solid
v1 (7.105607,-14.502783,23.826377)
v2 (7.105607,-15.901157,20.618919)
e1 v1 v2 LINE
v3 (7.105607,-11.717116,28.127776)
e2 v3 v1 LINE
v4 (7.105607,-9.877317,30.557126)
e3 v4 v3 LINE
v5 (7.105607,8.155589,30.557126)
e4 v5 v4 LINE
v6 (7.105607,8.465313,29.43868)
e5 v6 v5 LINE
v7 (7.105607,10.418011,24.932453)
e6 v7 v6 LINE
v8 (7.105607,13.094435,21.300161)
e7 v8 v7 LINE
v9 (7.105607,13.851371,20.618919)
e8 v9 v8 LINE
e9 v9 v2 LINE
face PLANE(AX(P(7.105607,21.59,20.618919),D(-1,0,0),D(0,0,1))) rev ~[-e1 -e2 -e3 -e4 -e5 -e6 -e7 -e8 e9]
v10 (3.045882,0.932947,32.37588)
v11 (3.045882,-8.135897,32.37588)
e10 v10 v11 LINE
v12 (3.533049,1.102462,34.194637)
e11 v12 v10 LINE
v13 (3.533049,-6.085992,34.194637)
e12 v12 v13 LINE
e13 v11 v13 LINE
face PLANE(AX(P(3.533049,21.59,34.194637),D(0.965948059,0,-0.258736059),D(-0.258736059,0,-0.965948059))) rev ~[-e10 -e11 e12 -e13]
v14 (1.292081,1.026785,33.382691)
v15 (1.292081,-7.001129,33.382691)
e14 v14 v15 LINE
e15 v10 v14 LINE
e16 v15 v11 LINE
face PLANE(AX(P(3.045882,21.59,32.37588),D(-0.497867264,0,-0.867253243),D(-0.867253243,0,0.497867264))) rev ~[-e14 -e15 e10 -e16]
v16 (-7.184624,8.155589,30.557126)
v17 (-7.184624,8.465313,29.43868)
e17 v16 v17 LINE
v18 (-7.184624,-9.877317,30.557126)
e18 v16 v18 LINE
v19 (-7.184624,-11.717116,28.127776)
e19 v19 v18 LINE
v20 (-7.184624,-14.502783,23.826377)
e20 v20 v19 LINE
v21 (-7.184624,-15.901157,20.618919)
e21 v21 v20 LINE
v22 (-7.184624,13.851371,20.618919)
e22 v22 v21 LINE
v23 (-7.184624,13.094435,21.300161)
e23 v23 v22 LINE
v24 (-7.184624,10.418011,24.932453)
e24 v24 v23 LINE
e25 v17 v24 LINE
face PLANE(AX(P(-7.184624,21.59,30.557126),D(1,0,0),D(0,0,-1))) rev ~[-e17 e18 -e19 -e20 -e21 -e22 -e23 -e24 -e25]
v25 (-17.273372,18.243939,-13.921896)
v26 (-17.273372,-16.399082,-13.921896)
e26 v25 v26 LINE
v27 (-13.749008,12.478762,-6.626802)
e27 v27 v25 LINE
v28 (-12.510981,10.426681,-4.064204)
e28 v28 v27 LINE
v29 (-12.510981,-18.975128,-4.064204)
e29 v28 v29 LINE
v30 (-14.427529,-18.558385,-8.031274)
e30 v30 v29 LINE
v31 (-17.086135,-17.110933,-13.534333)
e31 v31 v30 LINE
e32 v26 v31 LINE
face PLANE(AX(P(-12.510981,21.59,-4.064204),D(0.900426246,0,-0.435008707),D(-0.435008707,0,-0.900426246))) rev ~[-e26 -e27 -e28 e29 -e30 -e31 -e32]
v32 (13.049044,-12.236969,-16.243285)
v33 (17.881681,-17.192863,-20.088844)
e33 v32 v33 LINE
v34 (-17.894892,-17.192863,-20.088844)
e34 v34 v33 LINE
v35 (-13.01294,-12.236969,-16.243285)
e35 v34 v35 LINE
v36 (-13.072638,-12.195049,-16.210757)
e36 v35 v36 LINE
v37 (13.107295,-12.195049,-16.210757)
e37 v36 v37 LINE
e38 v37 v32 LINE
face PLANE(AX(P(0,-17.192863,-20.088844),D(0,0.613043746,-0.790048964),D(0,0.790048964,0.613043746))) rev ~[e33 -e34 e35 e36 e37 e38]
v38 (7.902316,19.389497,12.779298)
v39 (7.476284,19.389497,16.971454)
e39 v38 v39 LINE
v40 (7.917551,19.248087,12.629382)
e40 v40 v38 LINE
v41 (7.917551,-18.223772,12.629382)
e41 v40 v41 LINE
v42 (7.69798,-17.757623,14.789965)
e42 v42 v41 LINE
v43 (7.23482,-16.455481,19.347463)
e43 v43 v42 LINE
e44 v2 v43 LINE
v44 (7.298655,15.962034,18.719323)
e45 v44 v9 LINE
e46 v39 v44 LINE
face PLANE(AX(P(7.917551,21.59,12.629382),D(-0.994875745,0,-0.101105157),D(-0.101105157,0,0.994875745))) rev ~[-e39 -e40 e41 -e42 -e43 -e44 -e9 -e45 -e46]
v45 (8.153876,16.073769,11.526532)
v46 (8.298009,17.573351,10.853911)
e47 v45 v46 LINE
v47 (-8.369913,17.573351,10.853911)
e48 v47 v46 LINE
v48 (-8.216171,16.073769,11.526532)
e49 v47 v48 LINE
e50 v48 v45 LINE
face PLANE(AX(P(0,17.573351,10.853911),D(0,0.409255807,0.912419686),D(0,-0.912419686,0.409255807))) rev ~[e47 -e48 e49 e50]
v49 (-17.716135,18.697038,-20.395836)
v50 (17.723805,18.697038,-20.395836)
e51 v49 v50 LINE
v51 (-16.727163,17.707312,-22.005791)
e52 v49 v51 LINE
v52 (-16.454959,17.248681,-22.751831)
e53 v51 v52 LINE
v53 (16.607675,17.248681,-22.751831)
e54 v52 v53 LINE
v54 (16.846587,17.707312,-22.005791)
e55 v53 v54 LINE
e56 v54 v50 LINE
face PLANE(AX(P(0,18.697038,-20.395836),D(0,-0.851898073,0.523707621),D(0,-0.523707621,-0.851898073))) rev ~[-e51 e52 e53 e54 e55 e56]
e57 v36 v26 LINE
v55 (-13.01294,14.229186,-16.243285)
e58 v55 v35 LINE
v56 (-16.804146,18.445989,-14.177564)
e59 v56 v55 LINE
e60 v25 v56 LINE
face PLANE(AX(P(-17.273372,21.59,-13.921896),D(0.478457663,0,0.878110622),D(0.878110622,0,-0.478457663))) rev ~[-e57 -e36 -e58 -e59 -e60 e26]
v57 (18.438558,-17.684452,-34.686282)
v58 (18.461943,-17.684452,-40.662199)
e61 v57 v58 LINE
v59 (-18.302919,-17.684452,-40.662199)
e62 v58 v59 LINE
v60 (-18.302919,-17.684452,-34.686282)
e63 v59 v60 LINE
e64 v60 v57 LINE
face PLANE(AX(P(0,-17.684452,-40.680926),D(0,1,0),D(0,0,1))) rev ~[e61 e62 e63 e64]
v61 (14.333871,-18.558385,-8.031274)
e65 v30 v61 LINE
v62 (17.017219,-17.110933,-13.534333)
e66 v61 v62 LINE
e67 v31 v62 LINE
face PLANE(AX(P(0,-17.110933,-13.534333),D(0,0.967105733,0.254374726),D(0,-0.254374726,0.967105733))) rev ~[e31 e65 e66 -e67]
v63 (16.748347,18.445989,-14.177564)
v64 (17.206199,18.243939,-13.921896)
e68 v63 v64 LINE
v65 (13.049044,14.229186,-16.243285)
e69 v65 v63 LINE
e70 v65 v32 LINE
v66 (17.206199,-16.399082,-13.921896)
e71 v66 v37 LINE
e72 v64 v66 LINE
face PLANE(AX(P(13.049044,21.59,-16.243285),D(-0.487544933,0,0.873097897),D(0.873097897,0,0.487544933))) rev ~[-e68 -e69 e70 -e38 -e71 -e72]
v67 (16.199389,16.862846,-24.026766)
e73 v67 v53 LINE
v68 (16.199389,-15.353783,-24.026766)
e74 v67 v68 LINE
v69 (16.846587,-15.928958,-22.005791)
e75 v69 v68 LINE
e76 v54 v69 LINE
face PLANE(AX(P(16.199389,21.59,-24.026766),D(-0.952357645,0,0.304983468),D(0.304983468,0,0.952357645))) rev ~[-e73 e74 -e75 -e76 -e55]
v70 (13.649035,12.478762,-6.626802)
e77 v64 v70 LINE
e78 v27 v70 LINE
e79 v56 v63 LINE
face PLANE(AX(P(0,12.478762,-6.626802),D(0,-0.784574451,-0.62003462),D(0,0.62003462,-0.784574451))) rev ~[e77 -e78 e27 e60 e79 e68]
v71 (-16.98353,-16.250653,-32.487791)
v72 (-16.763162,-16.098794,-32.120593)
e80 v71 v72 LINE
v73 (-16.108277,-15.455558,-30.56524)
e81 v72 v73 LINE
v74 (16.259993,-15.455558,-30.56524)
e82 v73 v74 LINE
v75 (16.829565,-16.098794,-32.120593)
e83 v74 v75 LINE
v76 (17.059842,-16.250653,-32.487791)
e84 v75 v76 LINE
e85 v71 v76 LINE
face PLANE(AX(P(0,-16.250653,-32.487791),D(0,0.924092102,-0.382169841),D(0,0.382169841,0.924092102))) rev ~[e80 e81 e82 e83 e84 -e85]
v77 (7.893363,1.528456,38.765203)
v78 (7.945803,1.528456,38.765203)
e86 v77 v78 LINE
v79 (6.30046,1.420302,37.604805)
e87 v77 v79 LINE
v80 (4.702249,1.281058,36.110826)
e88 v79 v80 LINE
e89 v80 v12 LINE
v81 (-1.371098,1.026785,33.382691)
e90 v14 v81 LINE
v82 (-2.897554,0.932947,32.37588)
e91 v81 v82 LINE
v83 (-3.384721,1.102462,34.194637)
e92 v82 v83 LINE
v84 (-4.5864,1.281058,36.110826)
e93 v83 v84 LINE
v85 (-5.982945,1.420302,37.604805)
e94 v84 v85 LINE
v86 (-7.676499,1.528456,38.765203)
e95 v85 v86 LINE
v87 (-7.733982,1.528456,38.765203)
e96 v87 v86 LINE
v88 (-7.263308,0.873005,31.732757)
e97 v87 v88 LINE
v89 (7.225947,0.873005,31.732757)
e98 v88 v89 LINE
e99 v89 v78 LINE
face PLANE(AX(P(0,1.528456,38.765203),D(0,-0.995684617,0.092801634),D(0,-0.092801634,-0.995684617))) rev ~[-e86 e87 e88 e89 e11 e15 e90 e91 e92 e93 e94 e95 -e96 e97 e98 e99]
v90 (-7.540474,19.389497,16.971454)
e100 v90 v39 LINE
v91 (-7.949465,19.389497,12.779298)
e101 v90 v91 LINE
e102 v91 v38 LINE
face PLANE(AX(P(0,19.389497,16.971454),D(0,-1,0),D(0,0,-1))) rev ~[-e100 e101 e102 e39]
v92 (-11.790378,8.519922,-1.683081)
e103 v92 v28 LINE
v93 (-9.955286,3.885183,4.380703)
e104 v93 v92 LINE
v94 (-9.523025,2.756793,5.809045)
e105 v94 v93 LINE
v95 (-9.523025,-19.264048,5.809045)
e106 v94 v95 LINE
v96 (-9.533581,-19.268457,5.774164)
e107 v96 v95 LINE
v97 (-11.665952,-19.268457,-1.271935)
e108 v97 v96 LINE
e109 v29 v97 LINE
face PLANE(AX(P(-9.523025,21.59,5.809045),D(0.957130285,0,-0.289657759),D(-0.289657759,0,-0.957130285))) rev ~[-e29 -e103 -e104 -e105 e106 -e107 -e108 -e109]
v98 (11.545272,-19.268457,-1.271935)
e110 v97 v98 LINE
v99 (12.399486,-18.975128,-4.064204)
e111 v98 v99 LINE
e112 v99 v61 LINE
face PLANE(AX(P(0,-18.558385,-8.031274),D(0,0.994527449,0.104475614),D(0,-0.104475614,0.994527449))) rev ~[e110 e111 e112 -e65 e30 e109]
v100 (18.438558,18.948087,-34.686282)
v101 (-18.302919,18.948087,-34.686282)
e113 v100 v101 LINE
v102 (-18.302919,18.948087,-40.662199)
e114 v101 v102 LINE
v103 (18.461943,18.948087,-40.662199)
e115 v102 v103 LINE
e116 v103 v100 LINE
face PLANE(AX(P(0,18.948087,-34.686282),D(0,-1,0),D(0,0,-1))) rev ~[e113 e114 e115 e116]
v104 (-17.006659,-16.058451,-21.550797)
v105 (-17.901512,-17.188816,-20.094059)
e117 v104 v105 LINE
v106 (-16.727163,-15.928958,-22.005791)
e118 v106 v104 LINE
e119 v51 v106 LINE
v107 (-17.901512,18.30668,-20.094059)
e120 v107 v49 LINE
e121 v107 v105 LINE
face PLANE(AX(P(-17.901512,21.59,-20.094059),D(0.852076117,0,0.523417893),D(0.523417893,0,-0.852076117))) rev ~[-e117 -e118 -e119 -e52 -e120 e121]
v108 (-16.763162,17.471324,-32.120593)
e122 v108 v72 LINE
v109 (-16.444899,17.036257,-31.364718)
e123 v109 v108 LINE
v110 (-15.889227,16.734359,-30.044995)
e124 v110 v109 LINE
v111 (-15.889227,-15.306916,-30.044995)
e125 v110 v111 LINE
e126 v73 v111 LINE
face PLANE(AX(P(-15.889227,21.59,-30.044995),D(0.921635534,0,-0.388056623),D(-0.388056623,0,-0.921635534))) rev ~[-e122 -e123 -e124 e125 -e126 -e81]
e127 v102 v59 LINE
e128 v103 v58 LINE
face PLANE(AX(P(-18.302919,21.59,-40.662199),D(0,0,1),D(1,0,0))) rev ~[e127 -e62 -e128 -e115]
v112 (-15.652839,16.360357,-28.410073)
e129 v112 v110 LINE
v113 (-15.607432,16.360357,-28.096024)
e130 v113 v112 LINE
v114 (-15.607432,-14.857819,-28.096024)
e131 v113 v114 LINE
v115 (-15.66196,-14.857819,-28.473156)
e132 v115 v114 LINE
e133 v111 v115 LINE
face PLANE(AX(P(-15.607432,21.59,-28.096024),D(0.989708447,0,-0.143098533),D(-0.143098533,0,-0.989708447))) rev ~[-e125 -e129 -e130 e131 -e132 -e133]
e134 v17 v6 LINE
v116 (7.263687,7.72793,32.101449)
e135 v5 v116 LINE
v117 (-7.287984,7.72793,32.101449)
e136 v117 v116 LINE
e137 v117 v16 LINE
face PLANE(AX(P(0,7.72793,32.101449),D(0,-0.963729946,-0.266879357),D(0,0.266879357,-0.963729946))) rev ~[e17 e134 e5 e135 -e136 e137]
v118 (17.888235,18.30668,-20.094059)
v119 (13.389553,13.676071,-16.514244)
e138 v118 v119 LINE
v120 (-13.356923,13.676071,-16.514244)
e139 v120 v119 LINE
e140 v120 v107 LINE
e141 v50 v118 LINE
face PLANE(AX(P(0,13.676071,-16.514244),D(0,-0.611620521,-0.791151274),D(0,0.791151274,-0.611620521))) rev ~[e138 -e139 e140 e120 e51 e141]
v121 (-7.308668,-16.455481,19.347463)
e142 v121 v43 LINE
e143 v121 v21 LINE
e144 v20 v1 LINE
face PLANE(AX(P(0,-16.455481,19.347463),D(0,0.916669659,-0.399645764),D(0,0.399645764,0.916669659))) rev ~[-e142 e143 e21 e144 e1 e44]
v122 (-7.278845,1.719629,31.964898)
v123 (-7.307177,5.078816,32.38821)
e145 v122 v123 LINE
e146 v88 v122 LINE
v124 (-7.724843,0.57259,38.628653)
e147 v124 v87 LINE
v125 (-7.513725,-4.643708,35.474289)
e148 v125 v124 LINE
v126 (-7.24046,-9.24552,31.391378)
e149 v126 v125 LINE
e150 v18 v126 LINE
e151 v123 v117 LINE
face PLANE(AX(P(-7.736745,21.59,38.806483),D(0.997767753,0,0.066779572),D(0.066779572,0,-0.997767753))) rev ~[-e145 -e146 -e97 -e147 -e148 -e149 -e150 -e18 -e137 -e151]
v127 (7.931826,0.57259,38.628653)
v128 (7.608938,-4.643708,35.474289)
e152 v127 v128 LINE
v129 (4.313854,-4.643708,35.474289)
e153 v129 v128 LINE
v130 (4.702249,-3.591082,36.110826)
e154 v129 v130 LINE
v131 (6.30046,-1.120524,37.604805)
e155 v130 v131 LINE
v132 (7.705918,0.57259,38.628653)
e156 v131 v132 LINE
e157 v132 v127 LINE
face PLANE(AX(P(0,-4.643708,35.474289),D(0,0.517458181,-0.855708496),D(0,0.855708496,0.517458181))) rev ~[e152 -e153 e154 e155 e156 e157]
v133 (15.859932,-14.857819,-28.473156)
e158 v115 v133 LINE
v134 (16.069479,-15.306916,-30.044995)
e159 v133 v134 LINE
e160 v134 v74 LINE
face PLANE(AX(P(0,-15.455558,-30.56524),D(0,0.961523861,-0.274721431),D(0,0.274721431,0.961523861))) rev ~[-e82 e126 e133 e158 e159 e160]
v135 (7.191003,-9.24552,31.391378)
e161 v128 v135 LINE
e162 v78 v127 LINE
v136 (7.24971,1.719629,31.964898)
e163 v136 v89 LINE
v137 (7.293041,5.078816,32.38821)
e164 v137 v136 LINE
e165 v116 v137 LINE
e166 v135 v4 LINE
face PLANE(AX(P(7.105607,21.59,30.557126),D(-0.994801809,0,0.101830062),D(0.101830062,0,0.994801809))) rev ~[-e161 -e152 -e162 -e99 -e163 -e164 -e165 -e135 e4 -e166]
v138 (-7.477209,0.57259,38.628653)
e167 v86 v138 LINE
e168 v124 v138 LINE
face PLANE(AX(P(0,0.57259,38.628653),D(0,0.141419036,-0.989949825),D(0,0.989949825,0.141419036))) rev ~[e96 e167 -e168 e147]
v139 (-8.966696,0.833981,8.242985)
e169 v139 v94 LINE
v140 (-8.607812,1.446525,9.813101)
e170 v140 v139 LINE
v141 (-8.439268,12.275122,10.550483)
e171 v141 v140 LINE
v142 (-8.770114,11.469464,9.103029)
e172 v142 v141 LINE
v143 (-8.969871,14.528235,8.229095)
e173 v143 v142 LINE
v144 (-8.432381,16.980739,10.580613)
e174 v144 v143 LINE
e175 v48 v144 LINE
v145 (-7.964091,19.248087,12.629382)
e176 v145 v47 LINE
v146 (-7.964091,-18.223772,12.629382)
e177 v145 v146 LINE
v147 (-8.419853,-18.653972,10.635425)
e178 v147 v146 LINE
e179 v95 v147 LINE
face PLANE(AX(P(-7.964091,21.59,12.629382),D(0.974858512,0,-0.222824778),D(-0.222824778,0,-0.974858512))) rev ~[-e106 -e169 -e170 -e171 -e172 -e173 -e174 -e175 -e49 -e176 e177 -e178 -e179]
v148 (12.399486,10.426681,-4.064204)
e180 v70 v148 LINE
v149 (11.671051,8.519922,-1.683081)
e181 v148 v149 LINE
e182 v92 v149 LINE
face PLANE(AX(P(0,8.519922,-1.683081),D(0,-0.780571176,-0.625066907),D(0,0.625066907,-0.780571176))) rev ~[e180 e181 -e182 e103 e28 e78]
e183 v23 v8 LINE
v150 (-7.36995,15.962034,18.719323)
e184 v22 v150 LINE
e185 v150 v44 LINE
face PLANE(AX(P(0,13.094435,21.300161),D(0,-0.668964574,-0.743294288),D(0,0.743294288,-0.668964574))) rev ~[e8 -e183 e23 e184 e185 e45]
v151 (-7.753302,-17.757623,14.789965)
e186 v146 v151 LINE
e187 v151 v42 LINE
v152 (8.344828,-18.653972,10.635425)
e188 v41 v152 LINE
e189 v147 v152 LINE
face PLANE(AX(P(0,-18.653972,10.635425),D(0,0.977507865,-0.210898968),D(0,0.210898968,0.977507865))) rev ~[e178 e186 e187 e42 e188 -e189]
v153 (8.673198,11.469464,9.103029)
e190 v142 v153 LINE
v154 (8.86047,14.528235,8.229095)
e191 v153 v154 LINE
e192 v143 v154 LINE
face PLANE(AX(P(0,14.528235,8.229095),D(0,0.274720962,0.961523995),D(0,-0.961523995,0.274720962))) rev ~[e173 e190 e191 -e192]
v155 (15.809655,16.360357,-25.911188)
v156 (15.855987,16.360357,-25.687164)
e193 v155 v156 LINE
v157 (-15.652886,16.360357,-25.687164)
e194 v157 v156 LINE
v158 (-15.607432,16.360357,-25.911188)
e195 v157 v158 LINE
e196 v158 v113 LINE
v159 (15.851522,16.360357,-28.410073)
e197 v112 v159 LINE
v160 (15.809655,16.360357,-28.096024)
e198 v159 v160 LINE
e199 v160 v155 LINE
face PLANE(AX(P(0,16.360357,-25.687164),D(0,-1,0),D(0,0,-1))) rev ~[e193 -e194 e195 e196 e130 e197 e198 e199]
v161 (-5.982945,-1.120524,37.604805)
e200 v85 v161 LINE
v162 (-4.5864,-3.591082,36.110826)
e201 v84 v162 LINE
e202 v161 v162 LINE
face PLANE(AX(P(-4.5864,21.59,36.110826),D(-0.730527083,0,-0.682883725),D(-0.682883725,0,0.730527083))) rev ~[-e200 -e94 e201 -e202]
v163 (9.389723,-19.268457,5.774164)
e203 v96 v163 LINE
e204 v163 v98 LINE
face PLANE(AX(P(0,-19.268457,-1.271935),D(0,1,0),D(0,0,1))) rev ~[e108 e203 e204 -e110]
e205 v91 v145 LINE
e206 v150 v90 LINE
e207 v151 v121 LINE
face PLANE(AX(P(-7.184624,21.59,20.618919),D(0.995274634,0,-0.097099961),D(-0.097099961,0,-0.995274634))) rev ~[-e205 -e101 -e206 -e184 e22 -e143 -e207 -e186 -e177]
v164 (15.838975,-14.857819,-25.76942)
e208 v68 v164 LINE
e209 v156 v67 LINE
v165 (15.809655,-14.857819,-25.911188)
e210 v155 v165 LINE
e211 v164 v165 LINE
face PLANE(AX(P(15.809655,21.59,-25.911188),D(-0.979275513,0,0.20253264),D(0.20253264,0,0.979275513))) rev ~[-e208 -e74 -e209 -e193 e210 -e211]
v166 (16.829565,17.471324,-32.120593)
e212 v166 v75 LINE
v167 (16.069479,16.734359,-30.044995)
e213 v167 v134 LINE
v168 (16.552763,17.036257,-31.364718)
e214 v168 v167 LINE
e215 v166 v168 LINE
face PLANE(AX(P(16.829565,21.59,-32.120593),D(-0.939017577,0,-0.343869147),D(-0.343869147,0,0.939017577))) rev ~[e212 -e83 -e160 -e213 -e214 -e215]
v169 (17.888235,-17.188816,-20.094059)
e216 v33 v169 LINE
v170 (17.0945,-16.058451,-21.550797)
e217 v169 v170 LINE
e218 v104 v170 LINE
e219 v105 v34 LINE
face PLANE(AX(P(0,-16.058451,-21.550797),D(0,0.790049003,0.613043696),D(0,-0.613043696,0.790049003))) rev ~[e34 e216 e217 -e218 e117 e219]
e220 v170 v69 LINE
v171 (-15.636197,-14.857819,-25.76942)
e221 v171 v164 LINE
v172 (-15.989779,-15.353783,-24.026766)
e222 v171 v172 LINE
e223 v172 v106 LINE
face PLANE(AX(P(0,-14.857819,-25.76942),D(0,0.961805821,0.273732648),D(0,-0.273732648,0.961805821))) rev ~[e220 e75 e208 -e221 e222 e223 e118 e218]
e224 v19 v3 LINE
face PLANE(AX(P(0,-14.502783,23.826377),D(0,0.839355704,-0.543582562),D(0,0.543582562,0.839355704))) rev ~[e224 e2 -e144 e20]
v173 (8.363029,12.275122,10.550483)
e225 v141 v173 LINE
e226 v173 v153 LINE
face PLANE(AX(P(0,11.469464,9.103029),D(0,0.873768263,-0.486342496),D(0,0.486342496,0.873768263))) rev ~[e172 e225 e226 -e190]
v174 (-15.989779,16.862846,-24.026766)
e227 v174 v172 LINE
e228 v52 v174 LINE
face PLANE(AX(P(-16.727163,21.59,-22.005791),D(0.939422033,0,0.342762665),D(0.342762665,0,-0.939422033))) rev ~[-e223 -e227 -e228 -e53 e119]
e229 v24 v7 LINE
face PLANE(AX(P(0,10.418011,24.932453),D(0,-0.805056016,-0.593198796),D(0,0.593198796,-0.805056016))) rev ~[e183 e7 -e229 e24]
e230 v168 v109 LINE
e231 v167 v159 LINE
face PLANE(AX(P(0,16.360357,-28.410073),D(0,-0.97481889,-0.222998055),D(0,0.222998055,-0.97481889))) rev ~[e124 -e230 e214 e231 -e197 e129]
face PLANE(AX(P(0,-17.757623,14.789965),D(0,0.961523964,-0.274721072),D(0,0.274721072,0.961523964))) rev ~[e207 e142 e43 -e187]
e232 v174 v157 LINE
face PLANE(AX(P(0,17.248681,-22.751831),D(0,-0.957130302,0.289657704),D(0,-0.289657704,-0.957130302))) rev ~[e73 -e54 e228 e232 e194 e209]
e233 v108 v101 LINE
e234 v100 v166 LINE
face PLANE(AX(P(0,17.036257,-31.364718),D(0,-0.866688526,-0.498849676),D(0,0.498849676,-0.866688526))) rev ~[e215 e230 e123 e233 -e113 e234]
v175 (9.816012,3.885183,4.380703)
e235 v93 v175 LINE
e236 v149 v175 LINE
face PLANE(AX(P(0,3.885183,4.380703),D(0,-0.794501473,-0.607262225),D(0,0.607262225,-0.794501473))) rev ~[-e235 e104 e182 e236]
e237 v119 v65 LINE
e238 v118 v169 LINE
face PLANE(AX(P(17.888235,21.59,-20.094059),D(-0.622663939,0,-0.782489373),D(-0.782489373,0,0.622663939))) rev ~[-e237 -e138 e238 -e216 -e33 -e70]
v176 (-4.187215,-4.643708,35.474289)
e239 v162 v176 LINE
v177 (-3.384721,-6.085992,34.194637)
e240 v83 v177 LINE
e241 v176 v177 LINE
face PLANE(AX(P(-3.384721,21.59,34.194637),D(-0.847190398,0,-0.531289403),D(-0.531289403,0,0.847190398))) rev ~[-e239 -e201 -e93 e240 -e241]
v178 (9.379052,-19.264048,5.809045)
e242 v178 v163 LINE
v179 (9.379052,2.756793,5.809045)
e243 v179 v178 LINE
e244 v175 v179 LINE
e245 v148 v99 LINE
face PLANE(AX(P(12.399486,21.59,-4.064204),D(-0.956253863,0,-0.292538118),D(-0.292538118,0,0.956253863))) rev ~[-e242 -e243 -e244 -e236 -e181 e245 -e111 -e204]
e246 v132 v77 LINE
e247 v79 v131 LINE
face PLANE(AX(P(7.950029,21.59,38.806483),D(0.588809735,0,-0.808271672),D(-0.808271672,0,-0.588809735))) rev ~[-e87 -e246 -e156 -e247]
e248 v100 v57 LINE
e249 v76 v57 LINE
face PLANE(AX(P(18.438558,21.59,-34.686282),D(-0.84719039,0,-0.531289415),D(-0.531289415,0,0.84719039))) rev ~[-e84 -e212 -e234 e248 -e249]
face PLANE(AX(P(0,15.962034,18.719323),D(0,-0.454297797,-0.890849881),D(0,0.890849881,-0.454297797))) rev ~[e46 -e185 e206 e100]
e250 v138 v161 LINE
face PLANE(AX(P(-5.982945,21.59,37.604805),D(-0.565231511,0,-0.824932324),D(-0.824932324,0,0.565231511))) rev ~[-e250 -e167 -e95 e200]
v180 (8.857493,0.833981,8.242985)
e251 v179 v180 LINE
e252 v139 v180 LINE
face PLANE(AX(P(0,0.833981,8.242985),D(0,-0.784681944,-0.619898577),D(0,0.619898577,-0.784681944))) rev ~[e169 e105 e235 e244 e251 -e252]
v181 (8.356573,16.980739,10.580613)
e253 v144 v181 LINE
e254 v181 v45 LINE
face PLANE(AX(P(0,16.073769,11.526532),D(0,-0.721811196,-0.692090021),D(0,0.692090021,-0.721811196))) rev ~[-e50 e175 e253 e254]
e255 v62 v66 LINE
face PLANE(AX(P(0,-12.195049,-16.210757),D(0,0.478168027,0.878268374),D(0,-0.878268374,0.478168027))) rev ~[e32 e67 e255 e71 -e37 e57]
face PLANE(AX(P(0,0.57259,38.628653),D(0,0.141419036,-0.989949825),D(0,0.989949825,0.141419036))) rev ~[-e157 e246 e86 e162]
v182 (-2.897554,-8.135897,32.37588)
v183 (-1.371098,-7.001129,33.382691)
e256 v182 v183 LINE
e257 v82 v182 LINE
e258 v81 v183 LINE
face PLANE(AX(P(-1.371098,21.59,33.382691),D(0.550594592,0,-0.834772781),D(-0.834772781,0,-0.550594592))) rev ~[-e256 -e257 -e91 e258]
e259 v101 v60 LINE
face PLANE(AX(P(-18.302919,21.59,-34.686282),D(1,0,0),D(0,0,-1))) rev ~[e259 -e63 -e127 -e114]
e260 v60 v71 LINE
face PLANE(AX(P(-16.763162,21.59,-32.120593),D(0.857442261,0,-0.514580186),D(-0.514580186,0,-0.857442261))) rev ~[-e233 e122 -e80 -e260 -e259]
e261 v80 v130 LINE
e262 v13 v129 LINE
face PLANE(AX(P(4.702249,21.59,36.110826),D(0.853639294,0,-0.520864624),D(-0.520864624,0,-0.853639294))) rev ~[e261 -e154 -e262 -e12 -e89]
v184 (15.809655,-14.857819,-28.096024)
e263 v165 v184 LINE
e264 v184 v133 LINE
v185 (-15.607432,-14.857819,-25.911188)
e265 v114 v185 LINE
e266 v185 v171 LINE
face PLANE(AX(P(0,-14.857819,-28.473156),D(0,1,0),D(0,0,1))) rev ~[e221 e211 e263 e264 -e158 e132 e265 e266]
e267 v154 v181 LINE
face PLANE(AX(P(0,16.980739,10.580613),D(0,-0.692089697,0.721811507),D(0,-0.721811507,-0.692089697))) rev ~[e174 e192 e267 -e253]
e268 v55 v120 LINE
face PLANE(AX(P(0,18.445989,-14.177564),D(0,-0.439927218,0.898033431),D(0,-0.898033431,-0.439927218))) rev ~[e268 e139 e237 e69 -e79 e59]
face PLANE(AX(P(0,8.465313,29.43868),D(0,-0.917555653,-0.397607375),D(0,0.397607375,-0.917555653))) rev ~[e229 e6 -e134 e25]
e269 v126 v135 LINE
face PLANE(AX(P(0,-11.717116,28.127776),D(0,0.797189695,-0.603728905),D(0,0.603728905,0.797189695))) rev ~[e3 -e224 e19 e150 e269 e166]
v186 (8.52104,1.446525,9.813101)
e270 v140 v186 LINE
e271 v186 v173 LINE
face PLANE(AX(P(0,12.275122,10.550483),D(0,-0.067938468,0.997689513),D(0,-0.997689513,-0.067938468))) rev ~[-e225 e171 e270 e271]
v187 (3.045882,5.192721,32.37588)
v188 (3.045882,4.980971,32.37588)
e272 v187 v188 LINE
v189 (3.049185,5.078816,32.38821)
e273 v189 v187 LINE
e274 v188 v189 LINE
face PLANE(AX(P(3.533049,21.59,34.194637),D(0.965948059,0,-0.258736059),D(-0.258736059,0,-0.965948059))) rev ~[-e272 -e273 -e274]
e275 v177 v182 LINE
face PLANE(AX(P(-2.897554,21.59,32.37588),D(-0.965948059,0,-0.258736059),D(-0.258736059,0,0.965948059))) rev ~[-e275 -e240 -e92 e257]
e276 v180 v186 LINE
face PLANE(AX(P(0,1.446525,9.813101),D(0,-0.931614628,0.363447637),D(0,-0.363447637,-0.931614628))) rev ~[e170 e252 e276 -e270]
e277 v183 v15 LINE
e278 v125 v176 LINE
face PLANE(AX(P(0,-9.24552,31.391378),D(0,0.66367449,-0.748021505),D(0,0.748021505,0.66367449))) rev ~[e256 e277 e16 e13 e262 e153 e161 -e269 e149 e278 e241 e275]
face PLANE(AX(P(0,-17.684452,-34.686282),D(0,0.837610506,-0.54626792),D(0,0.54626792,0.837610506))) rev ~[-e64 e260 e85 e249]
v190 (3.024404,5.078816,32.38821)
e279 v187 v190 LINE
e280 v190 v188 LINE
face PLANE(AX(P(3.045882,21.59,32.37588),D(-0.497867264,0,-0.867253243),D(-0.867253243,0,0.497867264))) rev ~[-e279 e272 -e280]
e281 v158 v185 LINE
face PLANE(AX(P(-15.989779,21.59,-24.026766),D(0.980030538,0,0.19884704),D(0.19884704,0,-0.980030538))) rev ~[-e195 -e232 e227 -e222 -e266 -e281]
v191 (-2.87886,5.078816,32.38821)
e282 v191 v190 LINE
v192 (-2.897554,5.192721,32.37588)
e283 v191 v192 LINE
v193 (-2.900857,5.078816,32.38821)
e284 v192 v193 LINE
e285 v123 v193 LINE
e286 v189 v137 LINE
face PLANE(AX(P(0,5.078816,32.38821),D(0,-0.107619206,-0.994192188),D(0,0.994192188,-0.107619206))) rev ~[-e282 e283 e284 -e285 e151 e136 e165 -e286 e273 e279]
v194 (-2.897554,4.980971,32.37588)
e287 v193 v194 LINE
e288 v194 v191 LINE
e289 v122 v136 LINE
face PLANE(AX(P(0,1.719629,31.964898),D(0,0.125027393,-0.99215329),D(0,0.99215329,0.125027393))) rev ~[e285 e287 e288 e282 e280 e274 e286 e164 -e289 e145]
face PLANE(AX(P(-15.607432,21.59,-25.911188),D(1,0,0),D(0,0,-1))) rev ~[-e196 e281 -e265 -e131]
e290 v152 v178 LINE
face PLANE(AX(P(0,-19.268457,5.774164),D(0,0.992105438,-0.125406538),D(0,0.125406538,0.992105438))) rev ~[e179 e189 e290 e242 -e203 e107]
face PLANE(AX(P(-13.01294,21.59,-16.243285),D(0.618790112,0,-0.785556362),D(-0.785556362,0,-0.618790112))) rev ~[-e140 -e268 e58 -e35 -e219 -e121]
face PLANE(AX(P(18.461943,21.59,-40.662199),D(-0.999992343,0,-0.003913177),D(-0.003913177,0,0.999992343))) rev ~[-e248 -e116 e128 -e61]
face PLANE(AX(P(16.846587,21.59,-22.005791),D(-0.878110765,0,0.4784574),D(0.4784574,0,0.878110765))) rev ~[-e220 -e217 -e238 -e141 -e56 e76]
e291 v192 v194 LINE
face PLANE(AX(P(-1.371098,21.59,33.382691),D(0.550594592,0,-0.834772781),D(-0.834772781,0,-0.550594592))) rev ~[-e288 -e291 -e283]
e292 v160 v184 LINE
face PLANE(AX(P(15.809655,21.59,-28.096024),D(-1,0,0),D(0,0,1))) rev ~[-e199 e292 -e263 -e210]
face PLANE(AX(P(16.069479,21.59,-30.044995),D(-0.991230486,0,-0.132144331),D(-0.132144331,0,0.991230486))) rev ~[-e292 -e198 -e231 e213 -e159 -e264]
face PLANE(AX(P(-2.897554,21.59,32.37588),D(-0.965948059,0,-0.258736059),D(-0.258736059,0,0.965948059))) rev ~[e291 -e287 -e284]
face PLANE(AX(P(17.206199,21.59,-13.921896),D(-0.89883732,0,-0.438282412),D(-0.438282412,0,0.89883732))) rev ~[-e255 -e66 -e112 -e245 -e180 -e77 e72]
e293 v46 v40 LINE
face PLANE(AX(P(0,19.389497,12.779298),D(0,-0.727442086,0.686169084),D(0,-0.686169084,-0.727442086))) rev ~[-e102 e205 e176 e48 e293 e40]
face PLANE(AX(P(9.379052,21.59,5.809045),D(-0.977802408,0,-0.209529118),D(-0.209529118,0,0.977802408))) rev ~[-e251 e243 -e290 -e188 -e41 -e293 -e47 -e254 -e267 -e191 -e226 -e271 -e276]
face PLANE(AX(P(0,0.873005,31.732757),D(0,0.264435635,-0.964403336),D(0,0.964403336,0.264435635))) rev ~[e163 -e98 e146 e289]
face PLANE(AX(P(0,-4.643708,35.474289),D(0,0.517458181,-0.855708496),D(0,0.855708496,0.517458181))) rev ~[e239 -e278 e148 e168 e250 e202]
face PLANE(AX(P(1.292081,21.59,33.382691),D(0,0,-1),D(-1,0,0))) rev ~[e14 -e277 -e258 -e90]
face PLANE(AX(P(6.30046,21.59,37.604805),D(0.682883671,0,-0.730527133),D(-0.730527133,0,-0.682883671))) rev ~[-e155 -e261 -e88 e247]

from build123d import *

# Parameters (mm, degrees)
F2_W     = 43.18
F2_H     = 86.36
F3_DEPTH = 21.59
F4_W     = 43.18
F4_H     = 86.36
F5_DEPTH = 43.18
F7_DEPTH = 21.59


with BuildPart() as f3:
    # F2 (on Right) → F3 (new body, symmetric)
    with BuildSketch(Plane.YZ):
        Rectangle(F2_W, F2_H)
    extrude(amount=F3_DEPTH, both=True)

    # F4 (on face) → F5 (cut)
    with BuildSketch(Plane(origin=(0, 21.59, 0), x_dir=(-1, 0, 0), z_dir=(0, 1, 0))):
        Rectangle(F4_W, F4_H)
        Polygon((18.302919, -40.662199), (-18.461943, -40.662199), (-18.438558, -34.686282), (-16.829565, -32.120593), (-16.069479, -30.044995), (-15.809655, -28.096024), (-15.809655, -25.911188), (-16.199389, -24.026766), (-16.846587, -22.005791), (-17.888235, -20.094059), (-13.049044, -16.243285), (-17.206199, -13.921896), (-12.399486, -4.064204), (-9.379052, 5.809045), (-7.917551, 12.629382), (-7.105607, 20.618919), (-7.105607, 30.557126), (-7.950029, 38.806483), (-6.30046, 37.604805), (-4.702249, 36.110826), (-3.533049, 34.194637), (-3.045882, 32.37588), (-1.292081, 33.382691), (1.371098, 33.382691), (2.897554, 32.37588), (3.384721, 34.194637), (4.5864, 36.110826), (5.982945, 37.604805), (7.736745, 38.806483), (7.184624, 30.557126), (7.184624, 20.618919), (7.964091, 12.629382), (9.523025, 5.809045), (12.510981, -4.064204), (17.273372, -13.921896), (13.01294, -16.243285), (17.901512, -20.094059), (16.727163, -22.005791), (15.989779, -24.026766), (15.607432, -25.911188), (15.607432, -28.096024), (15.889227, -30.044995), (16.763162, -32.120593), (18.302919, -34.686282), align=None, mode=Mode.SUBTRACT)
    extrude(amount=-F5_DEPTH, mode=Mode.SUBTRACT)

    # F6 (on Right) → F7 (cut, symmetric)
    with BuildSketch(Plane.YZ):
        Polygon((18.948087, -40.815897), (22.037912, -40.815897), (22.175604, 40.474616), (-21.876609, 40.474616), (-21.876609, -40.680926), (-17.684452, -40.680926), (-17.684452, -34.686282), (-16.250653, -32.487791), (-15.455558, -30.56524), (-14.857819, -28.473156), (-14.857819, -25.76942), (-16.058451, -21.550797), (-17.192863, -20.088844), (-12.195049, -16.210757), (-17.110933, -13.534333), (-18.558385, -8.031274), (-19.268457, -1.271935), (-19.268457, 5.774164), (-18.653972, 10.635425), (-17.757623, 14.789965), (-16.455481, 19.347463), (-14.502783, 23.826377), (-11.717116, 28.127776), (-9.24552, 31.391378), (-4.643708, 35.474289), (0.57259, 38.628653), (1.528456, 38.765203), (0.873005, 31.732757), (1.719629, 31.964898), (5.078816, 32.38821), (7.72793, 32.101449), (8.465313, 29.43868), (10.418011, 24.932453), (13.094435, 21.300161), (15.962034, 18.719323), (19.389497, 16.971454), (19.389497, 12.779298), (17.573351, 10.853911), (16.073769, 11.526532), (16.980739, 10.580613), (14.528235, 8.229095), (11.469464, 9.103029), (12.275122, 10.550483), (1.446525, 9.813101), (0.833981, 8.242985), (3.885183, 4.380703), (8.519922, -1.683081), (12.478762, -6.626802), (18.445989, -14.177564), (13.676071, -16.514244), (18.697038, -20.395836), (17.248681, -22.751831), (16.360357, -25.687164), (16.360357, -28.410073), (17.036257, -31.364718), (18.948087, -34.686282), align=None)
    extrude(amount=F7_DEPTH, both=True, mode=Mode.SUBTRACT)


solid = f3.part
